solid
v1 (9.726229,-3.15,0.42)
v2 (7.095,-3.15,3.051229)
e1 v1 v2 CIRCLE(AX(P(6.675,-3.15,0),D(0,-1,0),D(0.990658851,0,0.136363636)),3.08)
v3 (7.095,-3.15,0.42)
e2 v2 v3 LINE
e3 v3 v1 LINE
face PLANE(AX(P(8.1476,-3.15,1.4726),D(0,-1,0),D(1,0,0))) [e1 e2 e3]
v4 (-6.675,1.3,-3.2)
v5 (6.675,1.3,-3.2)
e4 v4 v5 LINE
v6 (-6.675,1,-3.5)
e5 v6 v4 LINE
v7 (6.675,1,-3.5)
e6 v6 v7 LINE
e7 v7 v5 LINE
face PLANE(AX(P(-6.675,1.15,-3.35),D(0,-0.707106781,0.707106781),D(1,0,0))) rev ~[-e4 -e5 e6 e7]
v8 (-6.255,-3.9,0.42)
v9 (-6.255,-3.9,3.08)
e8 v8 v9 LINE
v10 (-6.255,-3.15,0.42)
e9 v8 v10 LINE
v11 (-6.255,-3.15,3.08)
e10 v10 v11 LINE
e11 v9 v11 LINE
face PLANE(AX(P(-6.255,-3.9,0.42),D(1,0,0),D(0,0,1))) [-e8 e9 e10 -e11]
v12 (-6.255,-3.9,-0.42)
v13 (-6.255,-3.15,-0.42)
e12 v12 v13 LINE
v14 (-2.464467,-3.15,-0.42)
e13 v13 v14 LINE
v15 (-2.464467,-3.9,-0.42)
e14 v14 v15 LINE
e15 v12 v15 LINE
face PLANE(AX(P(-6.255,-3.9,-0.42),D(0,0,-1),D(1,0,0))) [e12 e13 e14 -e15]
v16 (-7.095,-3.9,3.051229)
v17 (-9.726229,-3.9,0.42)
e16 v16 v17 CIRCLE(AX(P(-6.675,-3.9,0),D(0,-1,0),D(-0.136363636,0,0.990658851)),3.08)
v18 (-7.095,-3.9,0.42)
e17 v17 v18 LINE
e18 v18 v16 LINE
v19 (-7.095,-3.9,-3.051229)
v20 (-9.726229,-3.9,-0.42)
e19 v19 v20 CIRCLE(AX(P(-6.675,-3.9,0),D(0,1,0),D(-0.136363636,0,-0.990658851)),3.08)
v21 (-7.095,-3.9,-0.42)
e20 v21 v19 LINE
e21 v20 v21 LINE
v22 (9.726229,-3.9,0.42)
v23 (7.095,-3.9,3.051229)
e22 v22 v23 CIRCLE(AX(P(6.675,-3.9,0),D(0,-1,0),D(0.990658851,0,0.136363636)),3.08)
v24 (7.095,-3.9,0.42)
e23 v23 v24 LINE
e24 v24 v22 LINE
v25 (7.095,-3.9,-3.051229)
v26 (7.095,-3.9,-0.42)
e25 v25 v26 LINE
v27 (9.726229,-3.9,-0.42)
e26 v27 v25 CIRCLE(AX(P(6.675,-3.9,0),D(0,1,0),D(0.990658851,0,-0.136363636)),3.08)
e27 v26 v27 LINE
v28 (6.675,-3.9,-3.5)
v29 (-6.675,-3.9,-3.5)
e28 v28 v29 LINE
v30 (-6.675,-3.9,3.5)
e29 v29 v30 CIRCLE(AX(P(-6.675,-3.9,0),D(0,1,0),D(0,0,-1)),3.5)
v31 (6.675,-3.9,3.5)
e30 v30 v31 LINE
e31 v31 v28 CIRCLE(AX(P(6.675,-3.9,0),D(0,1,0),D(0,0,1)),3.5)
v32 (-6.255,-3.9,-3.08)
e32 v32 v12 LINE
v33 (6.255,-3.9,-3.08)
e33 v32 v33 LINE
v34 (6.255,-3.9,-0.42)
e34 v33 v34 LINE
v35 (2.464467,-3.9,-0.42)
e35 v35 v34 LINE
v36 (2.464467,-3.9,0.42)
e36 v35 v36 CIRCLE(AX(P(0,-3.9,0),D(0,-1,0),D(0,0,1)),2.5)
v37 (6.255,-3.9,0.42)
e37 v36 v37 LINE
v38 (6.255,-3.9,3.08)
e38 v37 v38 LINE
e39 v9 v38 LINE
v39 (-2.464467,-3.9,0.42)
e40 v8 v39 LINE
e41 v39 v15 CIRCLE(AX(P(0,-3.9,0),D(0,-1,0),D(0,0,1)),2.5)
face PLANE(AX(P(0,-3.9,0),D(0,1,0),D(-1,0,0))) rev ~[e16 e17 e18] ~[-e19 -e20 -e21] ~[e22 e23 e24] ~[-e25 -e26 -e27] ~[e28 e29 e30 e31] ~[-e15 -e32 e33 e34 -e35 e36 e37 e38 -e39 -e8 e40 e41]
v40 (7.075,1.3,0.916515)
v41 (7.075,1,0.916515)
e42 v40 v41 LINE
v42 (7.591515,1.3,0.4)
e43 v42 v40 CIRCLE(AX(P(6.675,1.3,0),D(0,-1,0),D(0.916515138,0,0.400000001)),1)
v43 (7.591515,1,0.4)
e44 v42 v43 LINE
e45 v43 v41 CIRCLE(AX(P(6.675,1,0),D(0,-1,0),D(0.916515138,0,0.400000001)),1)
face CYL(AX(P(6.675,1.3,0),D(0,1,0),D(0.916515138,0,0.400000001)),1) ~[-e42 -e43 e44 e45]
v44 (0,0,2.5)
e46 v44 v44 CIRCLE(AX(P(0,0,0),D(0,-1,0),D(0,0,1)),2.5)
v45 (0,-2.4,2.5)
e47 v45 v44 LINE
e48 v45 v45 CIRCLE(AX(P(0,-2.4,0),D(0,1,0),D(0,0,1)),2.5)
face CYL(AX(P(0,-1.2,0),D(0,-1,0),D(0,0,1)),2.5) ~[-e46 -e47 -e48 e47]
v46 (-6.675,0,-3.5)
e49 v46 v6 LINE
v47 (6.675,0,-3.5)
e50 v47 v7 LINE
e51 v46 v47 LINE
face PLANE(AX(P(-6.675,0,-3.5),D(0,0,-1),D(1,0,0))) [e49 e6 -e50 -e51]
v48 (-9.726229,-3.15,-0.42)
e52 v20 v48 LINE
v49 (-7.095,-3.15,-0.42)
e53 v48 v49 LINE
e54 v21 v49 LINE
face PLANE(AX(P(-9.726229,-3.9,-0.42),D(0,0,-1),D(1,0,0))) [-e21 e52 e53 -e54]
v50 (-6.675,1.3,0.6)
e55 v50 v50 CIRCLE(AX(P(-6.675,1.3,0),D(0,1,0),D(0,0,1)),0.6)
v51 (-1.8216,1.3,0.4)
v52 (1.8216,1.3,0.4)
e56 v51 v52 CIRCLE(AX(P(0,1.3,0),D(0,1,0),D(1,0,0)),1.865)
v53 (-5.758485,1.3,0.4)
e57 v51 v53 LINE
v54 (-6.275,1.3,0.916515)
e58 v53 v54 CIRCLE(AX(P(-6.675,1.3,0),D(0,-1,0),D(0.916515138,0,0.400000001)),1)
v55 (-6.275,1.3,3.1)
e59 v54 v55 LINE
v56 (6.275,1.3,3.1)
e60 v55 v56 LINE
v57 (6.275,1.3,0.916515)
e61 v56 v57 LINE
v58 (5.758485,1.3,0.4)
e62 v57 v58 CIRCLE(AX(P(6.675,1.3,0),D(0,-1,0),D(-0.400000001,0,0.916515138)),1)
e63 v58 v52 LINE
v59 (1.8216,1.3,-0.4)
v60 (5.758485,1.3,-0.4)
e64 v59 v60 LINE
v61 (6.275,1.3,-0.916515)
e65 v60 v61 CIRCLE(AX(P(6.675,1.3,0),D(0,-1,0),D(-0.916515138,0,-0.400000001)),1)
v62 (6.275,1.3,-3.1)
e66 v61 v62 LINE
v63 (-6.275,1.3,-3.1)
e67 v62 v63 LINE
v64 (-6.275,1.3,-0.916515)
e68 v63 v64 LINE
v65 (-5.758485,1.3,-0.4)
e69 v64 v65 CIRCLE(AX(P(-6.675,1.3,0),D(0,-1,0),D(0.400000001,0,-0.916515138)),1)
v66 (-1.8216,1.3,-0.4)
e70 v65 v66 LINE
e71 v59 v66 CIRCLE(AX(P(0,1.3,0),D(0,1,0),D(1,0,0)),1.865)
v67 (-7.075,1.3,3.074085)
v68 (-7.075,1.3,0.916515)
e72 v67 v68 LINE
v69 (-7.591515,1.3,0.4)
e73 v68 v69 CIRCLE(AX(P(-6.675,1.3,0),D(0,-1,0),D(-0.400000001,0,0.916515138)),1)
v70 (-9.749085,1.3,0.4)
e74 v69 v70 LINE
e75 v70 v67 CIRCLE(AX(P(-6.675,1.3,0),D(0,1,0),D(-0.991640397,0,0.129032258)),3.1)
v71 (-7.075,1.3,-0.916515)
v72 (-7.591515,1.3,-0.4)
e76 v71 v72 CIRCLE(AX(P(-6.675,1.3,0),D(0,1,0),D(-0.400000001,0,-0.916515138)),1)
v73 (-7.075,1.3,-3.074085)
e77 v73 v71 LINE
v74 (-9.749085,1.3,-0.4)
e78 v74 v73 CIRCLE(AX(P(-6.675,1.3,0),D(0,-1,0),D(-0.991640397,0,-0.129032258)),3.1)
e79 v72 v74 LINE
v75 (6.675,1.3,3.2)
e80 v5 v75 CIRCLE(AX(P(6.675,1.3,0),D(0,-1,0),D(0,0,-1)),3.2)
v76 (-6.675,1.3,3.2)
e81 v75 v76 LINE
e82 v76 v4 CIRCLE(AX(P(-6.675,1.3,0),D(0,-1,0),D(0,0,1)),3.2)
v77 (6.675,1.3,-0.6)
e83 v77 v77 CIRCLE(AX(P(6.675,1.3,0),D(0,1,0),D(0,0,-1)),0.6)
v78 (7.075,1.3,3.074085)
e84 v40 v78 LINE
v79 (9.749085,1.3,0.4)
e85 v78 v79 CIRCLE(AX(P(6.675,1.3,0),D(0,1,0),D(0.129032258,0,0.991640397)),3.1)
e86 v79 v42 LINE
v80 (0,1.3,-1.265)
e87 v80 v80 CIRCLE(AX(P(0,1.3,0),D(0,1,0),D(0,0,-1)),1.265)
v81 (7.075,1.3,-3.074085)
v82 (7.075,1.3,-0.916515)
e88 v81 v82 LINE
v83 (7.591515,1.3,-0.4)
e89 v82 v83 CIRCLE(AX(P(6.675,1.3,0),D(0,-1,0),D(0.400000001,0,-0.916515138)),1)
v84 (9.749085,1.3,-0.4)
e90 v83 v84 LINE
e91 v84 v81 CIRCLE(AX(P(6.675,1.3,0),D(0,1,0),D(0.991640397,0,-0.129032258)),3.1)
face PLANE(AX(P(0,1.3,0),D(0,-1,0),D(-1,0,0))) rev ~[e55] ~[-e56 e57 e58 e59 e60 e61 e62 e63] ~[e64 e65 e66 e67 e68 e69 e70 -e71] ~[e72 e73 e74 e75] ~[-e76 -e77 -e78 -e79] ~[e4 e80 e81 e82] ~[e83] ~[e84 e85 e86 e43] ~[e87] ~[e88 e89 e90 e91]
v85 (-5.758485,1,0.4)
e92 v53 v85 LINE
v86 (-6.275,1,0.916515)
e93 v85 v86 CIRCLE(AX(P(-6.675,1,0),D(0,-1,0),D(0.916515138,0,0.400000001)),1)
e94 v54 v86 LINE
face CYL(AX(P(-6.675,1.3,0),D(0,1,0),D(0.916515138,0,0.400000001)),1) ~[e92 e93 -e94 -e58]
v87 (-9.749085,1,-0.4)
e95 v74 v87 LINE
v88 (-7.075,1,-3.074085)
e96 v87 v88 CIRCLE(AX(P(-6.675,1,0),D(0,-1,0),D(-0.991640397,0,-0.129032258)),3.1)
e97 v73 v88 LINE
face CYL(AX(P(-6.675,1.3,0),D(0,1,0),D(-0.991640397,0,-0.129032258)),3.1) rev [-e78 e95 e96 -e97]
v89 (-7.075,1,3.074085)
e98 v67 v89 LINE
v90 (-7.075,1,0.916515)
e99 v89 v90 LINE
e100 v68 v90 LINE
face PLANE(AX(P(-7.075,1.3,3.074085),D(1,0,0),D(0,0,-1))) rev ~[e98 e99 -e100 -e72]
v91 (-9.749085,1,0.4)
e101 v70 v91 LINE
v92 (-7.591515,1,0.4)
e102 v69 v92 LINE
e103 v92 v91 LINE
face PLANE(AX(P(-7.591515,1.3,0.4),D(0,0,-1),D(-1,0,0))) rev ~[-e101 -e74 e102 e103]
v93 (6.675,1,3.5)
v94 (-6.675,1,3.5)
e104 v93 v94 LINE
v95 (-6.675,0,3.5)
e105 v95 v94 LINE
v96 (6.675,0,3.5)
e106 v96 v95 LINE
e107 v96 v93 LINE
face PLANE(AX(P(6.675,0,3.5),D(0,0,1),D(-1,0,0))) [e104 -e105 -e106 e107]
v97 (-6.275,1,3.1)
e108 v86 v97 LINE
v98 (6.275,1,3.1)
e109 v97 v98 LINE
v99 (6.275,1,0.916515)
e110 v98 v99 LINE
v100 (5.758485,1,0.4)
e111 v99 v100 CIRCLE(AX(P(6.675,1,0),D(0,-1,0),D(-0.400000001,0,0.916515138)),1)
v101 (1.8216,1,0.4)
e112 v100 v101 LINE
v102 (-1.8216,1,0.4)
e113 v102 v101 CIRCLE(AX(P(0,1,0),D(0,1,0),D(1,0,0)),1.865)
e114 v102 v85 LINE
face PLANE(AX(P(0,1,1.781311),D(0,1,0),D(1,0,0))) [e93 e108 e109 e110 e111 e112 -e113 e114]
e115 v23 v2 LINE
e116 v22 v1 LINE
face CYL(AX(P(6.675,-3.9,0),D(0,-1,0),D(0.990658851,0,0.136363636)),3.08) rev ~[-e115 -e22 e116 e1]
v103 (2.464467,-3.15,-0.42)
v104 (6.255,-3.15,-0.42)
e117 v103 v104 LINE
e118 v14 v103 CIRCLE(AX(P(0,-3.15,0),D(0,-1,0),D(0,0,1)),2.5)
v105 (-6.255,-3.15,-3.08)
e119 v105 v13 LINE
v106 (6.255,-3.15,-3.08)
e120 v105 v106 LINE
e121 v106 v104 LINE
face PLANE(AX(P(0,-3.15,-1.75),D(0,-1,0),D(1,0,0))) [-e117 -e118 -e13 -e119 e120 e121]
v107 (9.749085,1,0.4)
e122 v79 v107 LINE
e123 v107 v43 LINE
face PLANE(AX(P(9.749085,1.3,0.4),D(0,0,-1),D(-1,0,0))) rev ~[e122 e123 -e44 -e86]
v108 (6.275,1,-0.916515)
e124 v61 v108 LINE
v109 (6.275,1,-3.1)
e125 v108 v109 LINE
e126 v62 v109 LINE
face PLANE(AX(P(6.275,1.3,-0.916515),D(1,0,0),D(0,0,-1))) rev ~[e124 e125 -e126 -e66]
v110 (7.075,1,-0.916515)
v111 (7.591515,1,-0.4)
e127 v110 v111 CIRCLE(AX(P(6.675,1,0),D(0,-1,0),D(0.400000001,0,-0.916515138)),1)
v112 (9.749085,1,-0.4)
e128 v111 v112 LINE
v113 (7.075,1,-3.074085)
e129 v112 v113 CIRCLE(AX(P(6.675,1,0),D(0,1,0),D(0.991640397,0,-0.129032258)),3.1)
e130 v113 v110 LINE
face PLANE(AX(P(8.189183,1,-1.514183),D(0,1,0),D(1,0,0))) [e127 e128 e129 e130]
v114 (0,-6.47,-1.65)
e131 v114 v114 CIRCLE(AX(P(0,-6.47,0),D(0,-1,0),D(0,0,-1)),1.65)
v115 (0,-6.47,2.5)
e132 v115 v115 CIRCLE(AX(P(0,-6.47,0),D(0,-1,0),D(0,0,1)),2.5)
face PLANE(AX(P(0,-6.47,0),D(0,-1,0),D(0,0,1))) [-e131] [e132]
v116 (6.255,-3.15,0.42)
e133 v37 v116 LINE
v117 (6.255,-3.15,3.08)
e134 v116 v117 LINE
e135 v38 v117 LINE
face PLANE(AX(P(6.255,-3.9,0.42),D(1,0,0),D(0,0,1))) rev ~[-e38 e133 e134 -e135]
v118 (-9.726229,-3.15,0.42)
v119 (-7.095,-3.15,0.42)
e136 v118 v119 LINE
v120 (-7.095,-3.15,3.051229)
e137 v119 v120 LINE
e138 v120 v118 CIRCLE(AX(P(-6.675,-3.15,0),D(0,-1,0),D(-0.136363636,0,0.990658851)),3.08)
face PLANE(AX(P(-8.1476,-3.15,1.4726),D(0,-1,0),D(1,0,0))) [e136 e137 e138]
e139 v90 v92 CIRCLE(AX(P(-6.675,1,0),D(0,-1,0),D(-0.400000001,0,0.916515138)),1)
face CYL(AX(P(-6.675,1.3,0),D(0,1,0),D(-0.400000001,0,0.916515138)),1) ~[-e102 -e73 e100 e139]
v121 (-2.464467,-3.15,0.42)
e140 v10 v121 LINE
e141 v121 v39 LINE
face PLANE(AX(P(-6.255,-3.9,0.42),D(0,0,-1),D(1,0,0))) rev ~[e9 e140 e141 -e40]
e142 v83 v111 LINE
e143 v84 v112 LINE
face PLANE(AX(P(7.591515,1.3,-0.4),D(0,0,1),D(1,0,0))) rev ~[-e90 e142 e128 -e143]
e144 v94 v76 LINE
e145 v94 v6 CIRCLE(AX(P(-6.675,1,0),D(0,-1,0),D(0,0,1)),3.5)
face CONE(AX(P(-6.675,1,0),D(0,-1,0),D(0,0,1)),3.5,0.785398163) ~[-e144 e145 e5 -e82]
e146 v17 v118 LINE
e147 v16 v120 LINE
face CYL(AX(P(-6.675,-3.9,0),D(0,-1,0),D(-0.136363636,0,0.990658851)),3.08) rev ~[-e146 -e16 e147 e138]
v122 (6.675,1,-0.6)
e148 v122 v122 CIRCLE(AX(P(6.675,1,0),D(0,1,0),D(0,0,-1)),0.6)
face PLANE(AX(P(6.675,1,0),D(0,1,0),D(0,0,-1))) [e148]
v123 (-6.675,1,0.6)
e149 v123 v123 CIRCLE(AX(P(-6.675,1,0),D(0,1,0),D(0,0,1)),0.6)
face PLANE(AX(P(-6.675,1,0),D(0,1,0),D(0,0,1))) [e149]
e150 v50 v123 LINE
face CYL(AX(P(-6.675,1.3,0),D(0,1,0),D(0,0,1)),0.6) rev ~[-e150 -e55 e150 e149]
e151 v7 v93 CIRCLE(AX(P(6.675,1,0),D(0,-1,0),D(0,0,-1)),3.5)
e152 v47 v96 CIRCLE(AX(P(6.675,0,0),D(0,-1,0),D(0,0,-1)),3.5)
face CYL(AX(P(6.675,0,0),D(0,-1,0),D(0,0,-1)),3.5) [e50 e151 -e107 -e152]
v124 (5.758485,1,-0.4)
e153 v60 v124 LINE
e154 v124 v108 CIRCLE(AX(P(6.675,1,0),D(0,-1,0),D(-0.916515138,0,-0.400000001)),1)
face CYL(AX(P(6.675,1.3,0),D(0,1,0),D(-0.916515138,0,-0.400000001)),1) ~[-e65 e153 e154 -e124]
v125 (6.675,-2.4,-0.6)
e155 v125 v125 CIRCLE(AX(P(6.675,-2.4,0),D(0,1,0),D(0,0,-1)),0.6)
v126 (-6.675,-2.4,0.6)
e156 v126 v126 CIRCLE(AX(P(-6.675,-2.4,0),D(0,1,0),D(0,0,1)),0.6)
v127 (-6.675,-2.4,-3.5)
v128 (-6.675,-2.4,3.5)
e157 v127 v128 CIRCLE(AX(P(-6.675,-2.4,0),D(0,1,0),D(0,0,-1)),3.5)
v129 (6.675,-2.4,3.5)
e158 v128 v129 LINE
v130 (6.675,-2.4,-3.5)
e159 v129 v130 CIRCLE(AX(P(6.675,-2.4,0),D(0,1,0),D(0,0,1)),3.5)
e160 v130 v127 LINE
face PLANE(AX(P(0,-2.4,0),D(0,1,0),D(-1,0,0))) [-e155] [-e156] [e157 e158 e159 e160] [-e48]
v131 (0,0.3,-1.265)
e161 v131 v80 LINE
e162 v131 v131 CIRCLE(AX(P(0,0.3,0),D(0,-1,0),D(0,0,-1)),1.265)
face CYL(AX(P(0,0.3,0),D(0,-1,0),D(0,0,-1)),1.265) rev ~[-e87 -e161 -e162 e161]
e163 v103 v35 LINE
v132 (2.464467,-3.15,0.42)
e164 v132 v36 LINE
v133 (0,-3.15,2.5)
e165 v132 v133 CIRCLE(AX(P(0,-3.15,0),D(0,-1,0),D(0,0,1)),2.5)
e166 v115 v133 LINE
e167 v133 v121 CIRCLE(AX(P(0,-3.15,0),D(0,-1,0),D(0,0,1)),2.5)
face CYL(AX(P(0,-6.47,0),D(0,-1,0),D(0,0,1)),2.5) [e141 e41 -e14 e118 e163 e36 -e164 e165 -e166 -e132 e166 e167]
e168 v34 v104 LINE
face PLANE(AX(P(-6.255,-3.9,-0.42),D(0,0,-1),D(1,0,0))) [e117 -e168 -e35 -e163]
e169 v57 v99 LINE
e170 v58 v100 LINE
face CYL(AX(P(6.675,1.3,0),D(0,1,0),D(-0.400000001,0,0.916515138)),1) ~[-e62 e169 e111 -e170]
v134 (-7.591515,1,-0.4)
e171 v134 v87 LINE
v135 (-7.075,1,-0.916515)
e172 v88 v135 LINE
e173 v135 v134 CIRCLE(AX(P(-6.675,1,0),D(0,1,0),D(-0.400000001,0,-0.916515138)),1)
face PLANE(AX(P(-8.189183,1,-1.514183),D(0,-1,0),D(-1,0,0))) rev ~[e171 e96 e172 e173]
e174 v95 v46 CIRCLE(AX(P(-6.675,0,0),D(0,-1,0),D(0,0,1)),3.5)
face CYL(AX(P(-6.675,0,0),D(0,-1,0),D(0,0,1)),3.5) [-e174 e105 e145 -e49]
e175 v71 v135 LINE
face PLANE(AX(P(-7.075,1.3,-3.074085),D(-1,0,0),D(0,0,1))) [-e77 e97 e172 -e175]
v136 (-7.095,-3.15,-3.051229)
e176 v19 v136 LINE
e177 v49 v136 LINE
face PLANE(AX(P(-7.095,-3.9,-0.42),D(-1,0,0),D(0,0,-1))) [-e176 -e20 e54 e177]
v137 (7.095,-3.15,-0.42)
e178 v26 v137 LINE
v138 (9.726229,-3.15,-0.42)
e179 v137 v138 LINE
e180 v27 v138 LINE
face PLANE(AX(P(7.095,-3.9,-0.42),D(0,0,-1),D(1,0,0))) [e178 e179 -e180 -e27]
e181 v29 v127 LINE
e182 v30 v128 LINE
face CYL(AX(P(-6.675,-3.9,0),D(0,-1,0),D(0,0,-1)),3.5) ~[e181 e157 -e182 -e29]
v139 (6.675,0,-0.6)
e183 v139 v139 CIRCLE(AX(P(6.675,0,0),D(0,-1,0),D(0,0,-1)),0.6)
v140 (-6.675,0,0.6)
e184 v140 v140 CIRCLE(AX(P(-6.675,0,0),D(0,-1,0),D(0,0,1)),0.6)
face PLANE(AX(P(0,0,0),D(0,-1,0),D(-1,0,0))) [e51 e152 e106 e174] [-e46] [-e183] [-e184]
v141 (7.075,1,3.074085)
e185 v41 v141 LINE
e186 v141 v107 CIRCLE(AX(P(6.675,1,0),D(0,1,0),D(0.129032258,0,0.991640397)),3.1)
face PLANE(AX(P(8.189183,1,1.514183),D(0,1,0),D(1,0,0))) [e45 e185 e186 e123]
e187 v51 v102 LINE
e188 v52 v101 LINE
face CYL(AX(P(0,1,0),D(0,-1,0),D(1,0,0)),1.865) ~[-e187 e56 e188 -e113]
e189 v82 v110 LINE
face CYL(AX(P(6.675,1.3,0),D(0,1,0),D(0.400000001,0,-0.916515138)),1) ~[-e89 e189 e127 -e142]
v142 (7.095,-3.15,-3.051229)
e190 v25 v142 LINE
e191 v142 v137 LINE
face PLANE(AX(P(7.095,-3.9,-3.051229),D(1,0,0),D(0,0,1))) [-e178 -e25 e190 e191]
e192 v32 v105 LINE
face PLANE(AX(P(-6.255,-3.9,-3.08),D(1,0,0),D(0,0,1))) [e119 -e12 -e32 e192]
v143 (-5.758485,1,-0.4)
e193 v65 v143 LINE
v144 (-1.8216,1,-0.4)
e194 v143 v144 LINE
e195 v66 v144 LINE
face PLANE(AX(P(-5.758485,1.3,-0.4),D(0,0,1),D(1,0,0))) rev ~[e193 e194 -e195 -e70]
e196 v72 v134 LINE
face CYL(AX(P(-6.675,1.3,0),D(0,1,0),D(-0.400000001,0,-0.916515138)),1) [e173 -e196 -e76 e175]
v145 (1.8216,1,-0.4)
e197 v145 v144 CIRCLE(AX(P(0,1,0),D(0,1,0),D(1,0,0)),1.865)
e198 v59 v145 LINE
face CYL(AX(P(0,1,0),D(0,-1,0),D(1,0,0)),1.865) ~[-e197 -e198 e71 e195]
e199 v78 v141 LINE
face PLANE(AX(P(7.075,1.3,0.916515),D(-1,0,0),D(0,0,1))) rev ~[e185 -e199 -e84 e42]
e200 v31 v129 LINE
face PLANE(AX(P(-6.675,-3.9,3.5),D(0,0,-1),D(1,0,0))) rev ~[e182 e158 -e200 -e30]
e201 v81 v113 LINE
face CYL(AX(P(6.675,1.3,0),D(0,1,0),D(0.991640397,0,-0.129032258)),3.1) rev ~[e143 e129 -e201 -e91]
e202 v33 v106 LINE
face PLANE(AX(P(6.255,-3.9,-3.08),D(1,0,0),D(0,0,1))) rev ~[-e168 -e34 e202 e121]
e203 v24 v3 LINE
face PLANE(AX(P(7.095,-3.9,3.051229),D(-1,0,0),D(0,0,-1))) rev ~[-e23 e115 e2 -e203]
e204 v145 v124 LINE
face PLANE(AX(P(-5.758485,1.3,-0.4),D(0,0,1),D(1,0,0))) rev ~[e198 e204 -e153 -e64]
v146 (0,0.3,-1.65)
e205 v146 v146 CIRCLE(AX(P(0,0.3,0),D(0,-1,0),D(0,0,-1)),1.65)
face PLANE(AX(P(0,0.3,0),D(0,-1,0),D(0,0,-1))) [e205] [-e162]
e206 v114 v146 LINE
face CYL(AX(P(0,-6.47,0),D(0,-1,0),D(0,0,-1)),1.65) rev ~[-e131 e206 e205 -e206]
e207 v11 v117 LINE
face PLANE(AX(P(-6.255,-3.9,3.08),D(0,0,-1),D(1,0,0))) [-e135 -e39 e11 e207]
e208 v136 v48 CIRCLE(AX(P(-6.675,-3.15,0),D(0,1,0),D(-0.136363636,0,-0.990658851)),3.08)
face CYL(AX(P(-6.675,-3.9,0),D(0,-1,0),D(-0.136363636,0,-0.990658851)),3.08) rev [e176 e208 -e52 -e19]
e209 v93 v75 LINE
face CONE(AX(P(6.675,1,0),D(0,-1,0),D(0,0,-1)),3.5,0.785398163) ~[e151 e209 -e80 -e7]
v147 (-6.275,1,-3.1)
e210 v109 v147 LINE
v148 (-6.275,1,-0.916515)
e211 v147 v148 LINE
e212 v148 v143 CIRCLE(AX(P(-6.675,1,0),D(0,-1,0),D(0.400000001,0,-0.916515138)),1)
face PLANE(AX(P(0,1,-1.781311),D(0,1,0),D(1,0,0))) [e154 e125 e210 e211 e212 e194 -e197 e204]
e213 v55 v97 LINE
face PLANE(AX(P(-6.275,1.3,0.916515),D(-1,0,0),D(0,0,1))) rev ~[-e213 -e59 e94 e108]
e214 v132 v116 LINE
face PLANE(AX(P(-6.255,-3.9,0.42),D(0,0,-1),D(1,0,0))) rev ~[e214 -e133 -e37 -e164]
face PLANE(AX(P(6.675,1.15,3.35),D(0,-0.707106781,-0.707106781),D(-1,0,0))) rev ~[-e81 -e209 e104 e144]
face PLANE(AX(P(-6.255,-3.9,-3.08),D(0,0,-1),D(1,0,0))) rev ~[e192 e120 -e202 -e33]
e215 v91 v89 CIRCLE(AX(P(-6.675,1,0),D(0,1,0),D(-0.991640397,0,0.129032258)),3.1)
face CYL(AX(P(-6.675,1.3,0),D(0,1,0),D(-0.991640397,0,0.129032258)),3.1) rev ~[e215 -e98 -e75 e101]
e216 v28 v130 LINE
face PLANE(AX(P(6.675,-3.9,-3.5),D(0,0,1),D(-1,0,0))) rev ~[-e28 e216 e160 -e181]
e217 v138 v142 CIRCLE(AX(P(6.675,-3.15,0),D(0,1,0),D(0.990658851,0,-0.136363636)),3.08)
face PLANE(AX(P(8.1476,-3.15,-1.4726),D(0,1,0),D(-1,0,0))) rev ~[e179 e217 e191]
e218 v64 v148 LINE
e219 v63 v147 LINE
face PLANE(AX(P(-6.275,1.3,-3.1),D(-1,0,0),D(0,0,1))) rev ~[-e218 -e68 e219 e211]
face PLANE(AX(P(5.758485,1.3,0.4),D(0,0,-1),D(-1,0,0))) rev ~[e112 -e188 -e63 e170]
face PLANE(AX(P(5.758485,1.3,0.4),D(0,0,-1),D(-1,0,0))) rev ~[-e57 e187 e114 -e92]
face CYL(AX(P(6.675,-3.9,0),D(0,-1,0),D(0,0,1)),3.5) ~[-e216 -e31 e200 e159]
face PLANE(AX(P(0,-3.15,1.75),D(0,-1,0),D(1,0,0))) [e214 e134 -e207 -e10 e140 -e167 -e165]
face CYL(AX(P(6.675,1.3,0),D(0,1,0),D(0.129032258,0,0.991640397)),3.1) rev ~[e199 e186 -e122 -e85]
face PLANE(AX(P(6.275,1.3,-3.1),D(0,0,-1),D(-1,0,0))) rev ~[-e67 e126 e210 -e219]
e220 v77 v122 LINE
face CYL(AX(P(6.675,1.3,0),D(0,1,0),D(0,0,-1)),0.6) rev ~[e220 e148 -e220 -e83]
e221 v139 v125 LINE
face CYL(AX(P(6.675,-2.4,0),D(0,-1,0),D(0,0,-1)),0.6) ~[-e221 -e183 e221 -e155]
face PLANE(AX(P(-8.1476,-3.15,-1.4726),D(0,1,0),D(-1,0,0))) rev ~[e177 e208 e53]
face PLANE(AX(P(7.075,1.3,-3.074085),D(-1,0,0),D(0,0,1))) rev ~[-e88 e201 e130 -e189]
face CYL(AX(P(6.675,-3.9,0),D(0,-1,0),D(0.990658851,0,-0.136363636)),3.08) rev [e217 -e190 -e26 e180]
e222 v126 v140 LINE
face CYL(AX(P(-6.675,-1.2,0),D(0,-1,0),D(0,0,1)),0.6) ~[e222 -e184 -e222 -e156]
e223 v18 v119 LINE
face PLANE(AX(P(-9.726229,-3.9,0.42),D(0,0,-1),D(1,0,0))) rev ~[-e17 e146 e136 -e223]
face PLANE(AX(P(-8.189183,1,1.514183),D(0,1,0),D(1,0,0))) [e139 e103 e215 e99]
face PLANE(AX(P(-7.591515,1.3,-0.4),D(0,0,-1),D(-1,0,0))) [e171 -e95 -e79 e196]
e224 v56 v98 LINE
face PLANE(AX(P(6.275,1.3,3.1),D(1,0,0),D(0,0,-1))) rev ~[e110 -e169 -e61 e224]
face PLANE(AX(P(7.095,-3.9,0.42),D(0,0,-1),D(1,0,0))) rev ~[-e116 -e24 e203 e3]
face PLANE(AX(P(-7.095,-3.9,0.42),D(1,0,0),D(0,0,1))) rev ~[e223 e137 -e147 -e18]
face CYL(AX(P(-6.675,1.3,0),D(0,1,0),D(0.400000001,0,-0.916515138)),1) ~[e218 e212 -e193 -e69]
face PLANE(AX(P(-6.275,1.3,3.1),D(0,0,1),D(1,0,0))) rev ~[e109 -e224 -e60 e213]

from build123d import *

# Parameters (mm, degrees)
SALIENTE_EXTRUIR1_DEPTH = 1.3
CROQUIS2_R              = 0.6
CORTAR_EXTRUIR1_DEPTH   = 0.3
CHAFL_N1_SIZE           = 0.3
SALIENTE_EXTRUIR2_REACH = 13.047
CROQUIS3_R              = 0.6
CROQUIS3_R_2            = 2.5
SALIENTE_EXTRUIR3_START = -1.2
CROQUIS4_R              = 0.6
CROQUIS4_R_2            = 2.5
SALIENTE_EXTRUIR3_DEPTH = 1.2
SALIENTE_EXTRUIR4_START = 1.5
SALIENTE_EXTRUIR4_DEPTH = 1.5
CROQUIS6_W              = 12.51
CROQUIS6_H              = 2.66
CORTAR_EXTRUIR3_DEPTH   = 0.75
SALIENTE_EXTRUIR5_START = 3.32
CROQUIS8_R              = 2.5
SALIENTE_EXTRUIR5_DEPTH = 3.32
CROQUIS9_R              = 1.65
CORTAR_EXTRUIR4_DEPTH   = 6.77
CROQUIS10_R             = 1.265
CORTAR_EXTRUIR6_DEPTH   = 6.77
CROQUIS12_R             = 1.865
CROQUIS12_R_2           = 1.265
SALIENTE_EXTRUIR6_DEPTH = 0.3


with BuildPart() as part:
    # Croquis1 → Saliente-Extruir1 (new body)
    with BuildSketch(Plane(origin=(0, 0, 0), x_dir=(1, 0, 0), z_dir=(0, 1, 0))):
        with BuildLine():
            Line((-6.675, 3.5), (6.675, 3.5))
            ThreePointArc((6.675, 3.5), (10.175, 0), (6.675, -3.5))
            Line((6.675, -3.5), (-6.675, -3.5))
            ThreePointArc((-6.675, -3.5), (-10.175, 0), (-6.675, 3.5))
        make_face()
    extrude(amount=SALIENTE_EXTRUIR1_DEPTH)

    # Croquis2 → Cortar-Extruir1 (cut)
    with BuildSketch(Plane(origin=(0, 1.3, 0), x_dir=(1, 0, 0), z_dir=(0, 1, 0))):
        with Locations(Location((-6.675, 0, 0), (0, 0, 270))):
            Circle(CROQUIS2_R)
        with Locations(Location((6.675, 0, 0), (0, 0, 90))):
            Circle(CROQUIS2_R)
        with BuildLine():
            Line((-7.075, 3.07408523), (-7.075, 0.916515139))
            ThreePointArc((-7.075, 0.916515139), (-7.382106781, 0.707106781), (-7.591515139, 0.4))
            Line((-7.591515139, 0.4), (-9.74908523, 0.4))
            ThreePointArc((-9.74908523, 0.4), (-8.867031022, 2.192031022), (-7.075, 3.07408523))
        make_face()
        with BuildLine():
            Line((-6.275, 3.1), (-6.275, 0.916515139))
            ThreePointArc((-6.275, 0.916515139), (-5.967893219, 0.707106781), (-5.758484861, 0.4))
            Line((-5.758484861, 0.4), (5.758484861, 0.4))
            ThreePointArc((5.758484861, 0.4), (5.967893219, 0.707106781), (6.275, 0.916515139))
            Line((6.275, 0.916515139), (6.275, 3.1))
            Line((6.275, 3.1), (-6.275, 3.1))
        make_face()
        with BuildLine():
            Line((-6.275, -0.916515139), (-6.275, -3.1))
            Line((-6.275, -3.1), (6.275, -3.1))
            Line((6.275, -3.1), (6.275, -0.916515139))
            ThreePointArc((6.275, -0.916515139), (5.967893219, -0.707106781), (5.758484861, -0.4))
            Line((5.758484861, -0.4), (-5.758484861, -0.4))
            ThreePointArc((-5.758484861, -0.4), (-5.967893219, -0.707106781), (-6.275, -0.916515139))
        make_face()
        with BuildLine():
            Line((-7.591515139, -0.4), (-9.74908523, -0.4))
            ThreePointArc((-9.74908523, -0.4), (-8.867031022, -2.192031022), (-7.075, -3.07408523))
            Line((-7.075, -3.07408523), (-7.075, -0.916515139))
            ThreePointArc((-7.075, -0.916515139), (-7.382106781, -0.707106781), (-7.591515139, -0.4))
        make_face()
        with BuildLine():
            Line((7.075, -0.916515139), (7.075, -3.07408523))
            ThreePointArc((7.075, -3.07408523), (8.867031022, -2.192031022), (9.74908523, -0.4))
            Line((9.74908523, -0.4), (7.591515139, -0.4))
            ThreePointArc((7.591515139, -0.4), (7.382106781, -0.707106781), (7.075, -0.916515139))
        make_face()
        with BuildLine():
            Line((7.591515139, 0.4), (9.74908523, 0.4))
            ThreePointArc((9.74908523, 0.4), (8.867031022, 2.192031022), (7.075, 3.07408523))
            Line((7.075, 3.07408523), (7.075, 0.916515139))
            ThreePointArc((7.075, 0.916515139), (7.382106781, 0.707106781), (7.591515139, 0.4))
        make_face()
    extrude(amount=-CORTAR_EXTRUIR1_DEPTH, mode=Mode.SUBTRACT)

    # Chaflán1
    chafl_n1_edges = [part.edges().sort_by_distance(p)[0] for p in [
        (10.175, 1.3, 0),
        (0, 1.3, -3.5),
        (-10.175, 1.3, 0),
        (0, 1.3, 3.5),
    ]]
    chamfer(chafl_n1_edges, length=CHAFL_N1_SIZE)

    # Croquis3 → Saliente-Extruir2 (add, up to next)
    with BuildSketch(Plane(origin=(0, -1.2, 0), x_dir=(1, 0, 0), z_dir=(0, 1, 0)), mode=Mode.PRIVATE) as saliente_extruir2_sk1:
        with Locations(Location((6.675, 0, 0), (0, 0, 90))):
            Circle(CROQUIS3_R)
    saliente_extruir2_tool1 = extrude(saliente_extruir2_sk1.sketch, amount=SALIENTE_EXTRUIR2_REACH, mode=Mode.PRIVATE) - part.part
    # Croquis3 → Saliente-Extruir2 (add, up to next)
    with BuildSketch(Plane(origin=(0, -1.2, 0), x_dir=(1, 0, 0), z_dir=(0, 1, 0)), mode=Mode.PRIVATE) as saliente_extruir2_sk2:
        with Locations(Location((-6.675, 0, 0), (0, 0, 270))):
            Circle(CROQUIS3_R)
    saliente_extruir2_tool2 = extrude(saliente_extruir2_sk2.sketch, amount=SALIENTE_EXTRUIR2_REACH, mode=Mode.PRIVATE) - part.part
    # Croquis3 → Saliente-Extruir2 (add, up to next)
    with BuildSketch(Plane(origin=(0, -1.2, 0), x_dir=(1, 0, 0), z_dir=(0, 1, 0)), mode=Mode.PRIVATE) as saliente_extruir2_sk3:
        with Locations(Location((0, 0, 0), (0, 0, 270))):
            Circle(CROQUIS3_R_2)
    saliente_extruir2_tool3 = extrude(saliente_extruir2_sk3.sketch, amount=SALIENTE_EXTRUIR2_REACH, mode=Mode.PRIVATE) - part.part
    add(saliente_extruir2_tool1.solids().sort_by_distance((6.675, -1.2, 0))[0])
    add(saliente_extruir2_tool2.solids().sort_by_distance((-6.675, -1.2, 0))[0])
    add(saliente_extruir2_tool3.solids().sort_by_distance((0, -1.2, 0))[0])

    # Croquis4 → Saliente-Extruir3 (add)
    with BuildSketch(Plane(origin=(0, -1.2, 0), x_dir=(1, 0, 0), z_dir=(0, 1, 0)).offset(SALIENTE_EXTRUIR3_START)):
        with Locations(Location((6.675, 0, 0), (0, 0, 90))):
            Circle(CROQUIS4_R)
        with Locations(Location((-6.675, 0, 0), (0, 0, 270))):
            Circle(CROQUIS4_R)
        with Locations(Location((0, 0, 0), (0, 0, 270))):
            Circle(CROQUIS4_R_2)
    extrude(amount=SALIENTE_EXTRUIR3_DEPTH)

    # Croquis5 → Saliente-Extruir4 (add)
    with BuildSketch(Plane.XZ.offset(2.4).offset(SALIENTE_EXTRUIR4_START)):
        with BuildLine():
            Line((6.675, -3.5), (-6.675, -3.5))
            ThreePointArc((-6.675, -3.5), (-10.175, 0), (-6.675, 3.5))
            Line((-6.675, 3.5), (6.675, 3.5))
            ThreePointArc((6.675, 3.5), (10.175, 0), (6.675, -3.5))
        make_face()
    extrude(amount=-SALIENTE_EXTRUIR4_DEPTH)

    # Croquis6 → Cortar-Extruir3 (cut)
    with BuildSketch(Plane.XZ.offset(3.9)):
        with Locations((0, 1.75)):
            Rectangle(CROQUIS6_W, CROQUIS6_H)
        with BuildLine():
            Line((-9.72622926, -0.42), (-7.095, -0.42))
            Line((-7.095, -0.42), (-7.095, -3.05122926))
            ThreePointArc((-7.095, -3.05122926), (-8.852888886, -2.177888886), (-9.72622926, -0.42))
        make_face()
        with Locations((0, -1.75)):
            Rectangle(CROQUIS6_W, CROQUIS6_H)
        with BuildLine():
            Line((7.095, -3.05122926), (7.095, -0.42))
            Line((7.095, -0.42), (9.72622926, -0.42))
            ThreePointArc((9.72622926, -0.42), (8.852888886, -2.177888886), (7.095, -3.05122926))
        make_face()
        with BuildLine():
            Line((-9.72622926, 0.42), (-7.095, 0.42))
            Line((-7.095, 0.42), (-7.095, 3.05122926))
            ThreePointArc((-7.095, 3.05122926), (-8.852888886, 2.177888886), (-9.72622926, 0.42))
        make_face()
        with BuildLine():
            Line((7.095, 0.42), (9.72622926, 0.42))
            ThreePointArc((9.72622926, 0.42), (8.852888886, 2.177888886), (7.095, 3.05122926))
            Line((7.095, 3.05122926), (7.095, 0.42))
        make_face()
    extrude(amount=-CORTAR_EXTRUIR3_DEPTH, mode=Mode.SUBTRACT)

    # Croquis8 → Saliente-Extruir5 (add)
    with BuildSketch(Plane.XZ.offset(3.15).offset(SALIENTE_EXTRUIR5_START)):
        with Locations(Location((0, 0, 0), (0, 0, 90))):
            Circle(CROQUIS8_R)
    extrude(amount=-SALIENTE_EXTRUIR5_DEPTH)

    # Croquis9 → Cortar-Extruir4 (cut)
    with BuildSketch(Plane.XZ.offset(6.47)):
        with Locations(Location((0, 0, 0), (0, 0, 270))):
            Circle(CROQUIS9_R)
    extrude(amount=-CORTAR_EXTRUIR4_DEPTH, mode=Mode.SUBTRACT)

    # Croquis10 → Cortar-Extruir6 (cut)
    with BuildSketch(Plane.XZ.offset(-0.3)):
        with Locations(Location((0, 0, 0), (0, 0, 270))):
            Circle(CROQUIS10_R)
    extrude(amount=-CORTAR_EXTRUIR6_DEPTH, mode=Mode.SUBTRACT)

    # Croquis12 → Saliente-Extruir6 (add)
    with BuildSketch(Plane(origin=(0, 1, 0), x_dir=(1, 0, 0), z_dir=(0, 1, 0))):
        Circle(CROQUIS12_R)
        with Locations(Location((0, 0, 0), (0, 0, 90))):
            Circle(CROQUIS12_R_2, mode=Mode.SUBTRACT)
    extrude(amount=SALIENTE_EXTRUIR6_DEPTH)


solid = part.part
